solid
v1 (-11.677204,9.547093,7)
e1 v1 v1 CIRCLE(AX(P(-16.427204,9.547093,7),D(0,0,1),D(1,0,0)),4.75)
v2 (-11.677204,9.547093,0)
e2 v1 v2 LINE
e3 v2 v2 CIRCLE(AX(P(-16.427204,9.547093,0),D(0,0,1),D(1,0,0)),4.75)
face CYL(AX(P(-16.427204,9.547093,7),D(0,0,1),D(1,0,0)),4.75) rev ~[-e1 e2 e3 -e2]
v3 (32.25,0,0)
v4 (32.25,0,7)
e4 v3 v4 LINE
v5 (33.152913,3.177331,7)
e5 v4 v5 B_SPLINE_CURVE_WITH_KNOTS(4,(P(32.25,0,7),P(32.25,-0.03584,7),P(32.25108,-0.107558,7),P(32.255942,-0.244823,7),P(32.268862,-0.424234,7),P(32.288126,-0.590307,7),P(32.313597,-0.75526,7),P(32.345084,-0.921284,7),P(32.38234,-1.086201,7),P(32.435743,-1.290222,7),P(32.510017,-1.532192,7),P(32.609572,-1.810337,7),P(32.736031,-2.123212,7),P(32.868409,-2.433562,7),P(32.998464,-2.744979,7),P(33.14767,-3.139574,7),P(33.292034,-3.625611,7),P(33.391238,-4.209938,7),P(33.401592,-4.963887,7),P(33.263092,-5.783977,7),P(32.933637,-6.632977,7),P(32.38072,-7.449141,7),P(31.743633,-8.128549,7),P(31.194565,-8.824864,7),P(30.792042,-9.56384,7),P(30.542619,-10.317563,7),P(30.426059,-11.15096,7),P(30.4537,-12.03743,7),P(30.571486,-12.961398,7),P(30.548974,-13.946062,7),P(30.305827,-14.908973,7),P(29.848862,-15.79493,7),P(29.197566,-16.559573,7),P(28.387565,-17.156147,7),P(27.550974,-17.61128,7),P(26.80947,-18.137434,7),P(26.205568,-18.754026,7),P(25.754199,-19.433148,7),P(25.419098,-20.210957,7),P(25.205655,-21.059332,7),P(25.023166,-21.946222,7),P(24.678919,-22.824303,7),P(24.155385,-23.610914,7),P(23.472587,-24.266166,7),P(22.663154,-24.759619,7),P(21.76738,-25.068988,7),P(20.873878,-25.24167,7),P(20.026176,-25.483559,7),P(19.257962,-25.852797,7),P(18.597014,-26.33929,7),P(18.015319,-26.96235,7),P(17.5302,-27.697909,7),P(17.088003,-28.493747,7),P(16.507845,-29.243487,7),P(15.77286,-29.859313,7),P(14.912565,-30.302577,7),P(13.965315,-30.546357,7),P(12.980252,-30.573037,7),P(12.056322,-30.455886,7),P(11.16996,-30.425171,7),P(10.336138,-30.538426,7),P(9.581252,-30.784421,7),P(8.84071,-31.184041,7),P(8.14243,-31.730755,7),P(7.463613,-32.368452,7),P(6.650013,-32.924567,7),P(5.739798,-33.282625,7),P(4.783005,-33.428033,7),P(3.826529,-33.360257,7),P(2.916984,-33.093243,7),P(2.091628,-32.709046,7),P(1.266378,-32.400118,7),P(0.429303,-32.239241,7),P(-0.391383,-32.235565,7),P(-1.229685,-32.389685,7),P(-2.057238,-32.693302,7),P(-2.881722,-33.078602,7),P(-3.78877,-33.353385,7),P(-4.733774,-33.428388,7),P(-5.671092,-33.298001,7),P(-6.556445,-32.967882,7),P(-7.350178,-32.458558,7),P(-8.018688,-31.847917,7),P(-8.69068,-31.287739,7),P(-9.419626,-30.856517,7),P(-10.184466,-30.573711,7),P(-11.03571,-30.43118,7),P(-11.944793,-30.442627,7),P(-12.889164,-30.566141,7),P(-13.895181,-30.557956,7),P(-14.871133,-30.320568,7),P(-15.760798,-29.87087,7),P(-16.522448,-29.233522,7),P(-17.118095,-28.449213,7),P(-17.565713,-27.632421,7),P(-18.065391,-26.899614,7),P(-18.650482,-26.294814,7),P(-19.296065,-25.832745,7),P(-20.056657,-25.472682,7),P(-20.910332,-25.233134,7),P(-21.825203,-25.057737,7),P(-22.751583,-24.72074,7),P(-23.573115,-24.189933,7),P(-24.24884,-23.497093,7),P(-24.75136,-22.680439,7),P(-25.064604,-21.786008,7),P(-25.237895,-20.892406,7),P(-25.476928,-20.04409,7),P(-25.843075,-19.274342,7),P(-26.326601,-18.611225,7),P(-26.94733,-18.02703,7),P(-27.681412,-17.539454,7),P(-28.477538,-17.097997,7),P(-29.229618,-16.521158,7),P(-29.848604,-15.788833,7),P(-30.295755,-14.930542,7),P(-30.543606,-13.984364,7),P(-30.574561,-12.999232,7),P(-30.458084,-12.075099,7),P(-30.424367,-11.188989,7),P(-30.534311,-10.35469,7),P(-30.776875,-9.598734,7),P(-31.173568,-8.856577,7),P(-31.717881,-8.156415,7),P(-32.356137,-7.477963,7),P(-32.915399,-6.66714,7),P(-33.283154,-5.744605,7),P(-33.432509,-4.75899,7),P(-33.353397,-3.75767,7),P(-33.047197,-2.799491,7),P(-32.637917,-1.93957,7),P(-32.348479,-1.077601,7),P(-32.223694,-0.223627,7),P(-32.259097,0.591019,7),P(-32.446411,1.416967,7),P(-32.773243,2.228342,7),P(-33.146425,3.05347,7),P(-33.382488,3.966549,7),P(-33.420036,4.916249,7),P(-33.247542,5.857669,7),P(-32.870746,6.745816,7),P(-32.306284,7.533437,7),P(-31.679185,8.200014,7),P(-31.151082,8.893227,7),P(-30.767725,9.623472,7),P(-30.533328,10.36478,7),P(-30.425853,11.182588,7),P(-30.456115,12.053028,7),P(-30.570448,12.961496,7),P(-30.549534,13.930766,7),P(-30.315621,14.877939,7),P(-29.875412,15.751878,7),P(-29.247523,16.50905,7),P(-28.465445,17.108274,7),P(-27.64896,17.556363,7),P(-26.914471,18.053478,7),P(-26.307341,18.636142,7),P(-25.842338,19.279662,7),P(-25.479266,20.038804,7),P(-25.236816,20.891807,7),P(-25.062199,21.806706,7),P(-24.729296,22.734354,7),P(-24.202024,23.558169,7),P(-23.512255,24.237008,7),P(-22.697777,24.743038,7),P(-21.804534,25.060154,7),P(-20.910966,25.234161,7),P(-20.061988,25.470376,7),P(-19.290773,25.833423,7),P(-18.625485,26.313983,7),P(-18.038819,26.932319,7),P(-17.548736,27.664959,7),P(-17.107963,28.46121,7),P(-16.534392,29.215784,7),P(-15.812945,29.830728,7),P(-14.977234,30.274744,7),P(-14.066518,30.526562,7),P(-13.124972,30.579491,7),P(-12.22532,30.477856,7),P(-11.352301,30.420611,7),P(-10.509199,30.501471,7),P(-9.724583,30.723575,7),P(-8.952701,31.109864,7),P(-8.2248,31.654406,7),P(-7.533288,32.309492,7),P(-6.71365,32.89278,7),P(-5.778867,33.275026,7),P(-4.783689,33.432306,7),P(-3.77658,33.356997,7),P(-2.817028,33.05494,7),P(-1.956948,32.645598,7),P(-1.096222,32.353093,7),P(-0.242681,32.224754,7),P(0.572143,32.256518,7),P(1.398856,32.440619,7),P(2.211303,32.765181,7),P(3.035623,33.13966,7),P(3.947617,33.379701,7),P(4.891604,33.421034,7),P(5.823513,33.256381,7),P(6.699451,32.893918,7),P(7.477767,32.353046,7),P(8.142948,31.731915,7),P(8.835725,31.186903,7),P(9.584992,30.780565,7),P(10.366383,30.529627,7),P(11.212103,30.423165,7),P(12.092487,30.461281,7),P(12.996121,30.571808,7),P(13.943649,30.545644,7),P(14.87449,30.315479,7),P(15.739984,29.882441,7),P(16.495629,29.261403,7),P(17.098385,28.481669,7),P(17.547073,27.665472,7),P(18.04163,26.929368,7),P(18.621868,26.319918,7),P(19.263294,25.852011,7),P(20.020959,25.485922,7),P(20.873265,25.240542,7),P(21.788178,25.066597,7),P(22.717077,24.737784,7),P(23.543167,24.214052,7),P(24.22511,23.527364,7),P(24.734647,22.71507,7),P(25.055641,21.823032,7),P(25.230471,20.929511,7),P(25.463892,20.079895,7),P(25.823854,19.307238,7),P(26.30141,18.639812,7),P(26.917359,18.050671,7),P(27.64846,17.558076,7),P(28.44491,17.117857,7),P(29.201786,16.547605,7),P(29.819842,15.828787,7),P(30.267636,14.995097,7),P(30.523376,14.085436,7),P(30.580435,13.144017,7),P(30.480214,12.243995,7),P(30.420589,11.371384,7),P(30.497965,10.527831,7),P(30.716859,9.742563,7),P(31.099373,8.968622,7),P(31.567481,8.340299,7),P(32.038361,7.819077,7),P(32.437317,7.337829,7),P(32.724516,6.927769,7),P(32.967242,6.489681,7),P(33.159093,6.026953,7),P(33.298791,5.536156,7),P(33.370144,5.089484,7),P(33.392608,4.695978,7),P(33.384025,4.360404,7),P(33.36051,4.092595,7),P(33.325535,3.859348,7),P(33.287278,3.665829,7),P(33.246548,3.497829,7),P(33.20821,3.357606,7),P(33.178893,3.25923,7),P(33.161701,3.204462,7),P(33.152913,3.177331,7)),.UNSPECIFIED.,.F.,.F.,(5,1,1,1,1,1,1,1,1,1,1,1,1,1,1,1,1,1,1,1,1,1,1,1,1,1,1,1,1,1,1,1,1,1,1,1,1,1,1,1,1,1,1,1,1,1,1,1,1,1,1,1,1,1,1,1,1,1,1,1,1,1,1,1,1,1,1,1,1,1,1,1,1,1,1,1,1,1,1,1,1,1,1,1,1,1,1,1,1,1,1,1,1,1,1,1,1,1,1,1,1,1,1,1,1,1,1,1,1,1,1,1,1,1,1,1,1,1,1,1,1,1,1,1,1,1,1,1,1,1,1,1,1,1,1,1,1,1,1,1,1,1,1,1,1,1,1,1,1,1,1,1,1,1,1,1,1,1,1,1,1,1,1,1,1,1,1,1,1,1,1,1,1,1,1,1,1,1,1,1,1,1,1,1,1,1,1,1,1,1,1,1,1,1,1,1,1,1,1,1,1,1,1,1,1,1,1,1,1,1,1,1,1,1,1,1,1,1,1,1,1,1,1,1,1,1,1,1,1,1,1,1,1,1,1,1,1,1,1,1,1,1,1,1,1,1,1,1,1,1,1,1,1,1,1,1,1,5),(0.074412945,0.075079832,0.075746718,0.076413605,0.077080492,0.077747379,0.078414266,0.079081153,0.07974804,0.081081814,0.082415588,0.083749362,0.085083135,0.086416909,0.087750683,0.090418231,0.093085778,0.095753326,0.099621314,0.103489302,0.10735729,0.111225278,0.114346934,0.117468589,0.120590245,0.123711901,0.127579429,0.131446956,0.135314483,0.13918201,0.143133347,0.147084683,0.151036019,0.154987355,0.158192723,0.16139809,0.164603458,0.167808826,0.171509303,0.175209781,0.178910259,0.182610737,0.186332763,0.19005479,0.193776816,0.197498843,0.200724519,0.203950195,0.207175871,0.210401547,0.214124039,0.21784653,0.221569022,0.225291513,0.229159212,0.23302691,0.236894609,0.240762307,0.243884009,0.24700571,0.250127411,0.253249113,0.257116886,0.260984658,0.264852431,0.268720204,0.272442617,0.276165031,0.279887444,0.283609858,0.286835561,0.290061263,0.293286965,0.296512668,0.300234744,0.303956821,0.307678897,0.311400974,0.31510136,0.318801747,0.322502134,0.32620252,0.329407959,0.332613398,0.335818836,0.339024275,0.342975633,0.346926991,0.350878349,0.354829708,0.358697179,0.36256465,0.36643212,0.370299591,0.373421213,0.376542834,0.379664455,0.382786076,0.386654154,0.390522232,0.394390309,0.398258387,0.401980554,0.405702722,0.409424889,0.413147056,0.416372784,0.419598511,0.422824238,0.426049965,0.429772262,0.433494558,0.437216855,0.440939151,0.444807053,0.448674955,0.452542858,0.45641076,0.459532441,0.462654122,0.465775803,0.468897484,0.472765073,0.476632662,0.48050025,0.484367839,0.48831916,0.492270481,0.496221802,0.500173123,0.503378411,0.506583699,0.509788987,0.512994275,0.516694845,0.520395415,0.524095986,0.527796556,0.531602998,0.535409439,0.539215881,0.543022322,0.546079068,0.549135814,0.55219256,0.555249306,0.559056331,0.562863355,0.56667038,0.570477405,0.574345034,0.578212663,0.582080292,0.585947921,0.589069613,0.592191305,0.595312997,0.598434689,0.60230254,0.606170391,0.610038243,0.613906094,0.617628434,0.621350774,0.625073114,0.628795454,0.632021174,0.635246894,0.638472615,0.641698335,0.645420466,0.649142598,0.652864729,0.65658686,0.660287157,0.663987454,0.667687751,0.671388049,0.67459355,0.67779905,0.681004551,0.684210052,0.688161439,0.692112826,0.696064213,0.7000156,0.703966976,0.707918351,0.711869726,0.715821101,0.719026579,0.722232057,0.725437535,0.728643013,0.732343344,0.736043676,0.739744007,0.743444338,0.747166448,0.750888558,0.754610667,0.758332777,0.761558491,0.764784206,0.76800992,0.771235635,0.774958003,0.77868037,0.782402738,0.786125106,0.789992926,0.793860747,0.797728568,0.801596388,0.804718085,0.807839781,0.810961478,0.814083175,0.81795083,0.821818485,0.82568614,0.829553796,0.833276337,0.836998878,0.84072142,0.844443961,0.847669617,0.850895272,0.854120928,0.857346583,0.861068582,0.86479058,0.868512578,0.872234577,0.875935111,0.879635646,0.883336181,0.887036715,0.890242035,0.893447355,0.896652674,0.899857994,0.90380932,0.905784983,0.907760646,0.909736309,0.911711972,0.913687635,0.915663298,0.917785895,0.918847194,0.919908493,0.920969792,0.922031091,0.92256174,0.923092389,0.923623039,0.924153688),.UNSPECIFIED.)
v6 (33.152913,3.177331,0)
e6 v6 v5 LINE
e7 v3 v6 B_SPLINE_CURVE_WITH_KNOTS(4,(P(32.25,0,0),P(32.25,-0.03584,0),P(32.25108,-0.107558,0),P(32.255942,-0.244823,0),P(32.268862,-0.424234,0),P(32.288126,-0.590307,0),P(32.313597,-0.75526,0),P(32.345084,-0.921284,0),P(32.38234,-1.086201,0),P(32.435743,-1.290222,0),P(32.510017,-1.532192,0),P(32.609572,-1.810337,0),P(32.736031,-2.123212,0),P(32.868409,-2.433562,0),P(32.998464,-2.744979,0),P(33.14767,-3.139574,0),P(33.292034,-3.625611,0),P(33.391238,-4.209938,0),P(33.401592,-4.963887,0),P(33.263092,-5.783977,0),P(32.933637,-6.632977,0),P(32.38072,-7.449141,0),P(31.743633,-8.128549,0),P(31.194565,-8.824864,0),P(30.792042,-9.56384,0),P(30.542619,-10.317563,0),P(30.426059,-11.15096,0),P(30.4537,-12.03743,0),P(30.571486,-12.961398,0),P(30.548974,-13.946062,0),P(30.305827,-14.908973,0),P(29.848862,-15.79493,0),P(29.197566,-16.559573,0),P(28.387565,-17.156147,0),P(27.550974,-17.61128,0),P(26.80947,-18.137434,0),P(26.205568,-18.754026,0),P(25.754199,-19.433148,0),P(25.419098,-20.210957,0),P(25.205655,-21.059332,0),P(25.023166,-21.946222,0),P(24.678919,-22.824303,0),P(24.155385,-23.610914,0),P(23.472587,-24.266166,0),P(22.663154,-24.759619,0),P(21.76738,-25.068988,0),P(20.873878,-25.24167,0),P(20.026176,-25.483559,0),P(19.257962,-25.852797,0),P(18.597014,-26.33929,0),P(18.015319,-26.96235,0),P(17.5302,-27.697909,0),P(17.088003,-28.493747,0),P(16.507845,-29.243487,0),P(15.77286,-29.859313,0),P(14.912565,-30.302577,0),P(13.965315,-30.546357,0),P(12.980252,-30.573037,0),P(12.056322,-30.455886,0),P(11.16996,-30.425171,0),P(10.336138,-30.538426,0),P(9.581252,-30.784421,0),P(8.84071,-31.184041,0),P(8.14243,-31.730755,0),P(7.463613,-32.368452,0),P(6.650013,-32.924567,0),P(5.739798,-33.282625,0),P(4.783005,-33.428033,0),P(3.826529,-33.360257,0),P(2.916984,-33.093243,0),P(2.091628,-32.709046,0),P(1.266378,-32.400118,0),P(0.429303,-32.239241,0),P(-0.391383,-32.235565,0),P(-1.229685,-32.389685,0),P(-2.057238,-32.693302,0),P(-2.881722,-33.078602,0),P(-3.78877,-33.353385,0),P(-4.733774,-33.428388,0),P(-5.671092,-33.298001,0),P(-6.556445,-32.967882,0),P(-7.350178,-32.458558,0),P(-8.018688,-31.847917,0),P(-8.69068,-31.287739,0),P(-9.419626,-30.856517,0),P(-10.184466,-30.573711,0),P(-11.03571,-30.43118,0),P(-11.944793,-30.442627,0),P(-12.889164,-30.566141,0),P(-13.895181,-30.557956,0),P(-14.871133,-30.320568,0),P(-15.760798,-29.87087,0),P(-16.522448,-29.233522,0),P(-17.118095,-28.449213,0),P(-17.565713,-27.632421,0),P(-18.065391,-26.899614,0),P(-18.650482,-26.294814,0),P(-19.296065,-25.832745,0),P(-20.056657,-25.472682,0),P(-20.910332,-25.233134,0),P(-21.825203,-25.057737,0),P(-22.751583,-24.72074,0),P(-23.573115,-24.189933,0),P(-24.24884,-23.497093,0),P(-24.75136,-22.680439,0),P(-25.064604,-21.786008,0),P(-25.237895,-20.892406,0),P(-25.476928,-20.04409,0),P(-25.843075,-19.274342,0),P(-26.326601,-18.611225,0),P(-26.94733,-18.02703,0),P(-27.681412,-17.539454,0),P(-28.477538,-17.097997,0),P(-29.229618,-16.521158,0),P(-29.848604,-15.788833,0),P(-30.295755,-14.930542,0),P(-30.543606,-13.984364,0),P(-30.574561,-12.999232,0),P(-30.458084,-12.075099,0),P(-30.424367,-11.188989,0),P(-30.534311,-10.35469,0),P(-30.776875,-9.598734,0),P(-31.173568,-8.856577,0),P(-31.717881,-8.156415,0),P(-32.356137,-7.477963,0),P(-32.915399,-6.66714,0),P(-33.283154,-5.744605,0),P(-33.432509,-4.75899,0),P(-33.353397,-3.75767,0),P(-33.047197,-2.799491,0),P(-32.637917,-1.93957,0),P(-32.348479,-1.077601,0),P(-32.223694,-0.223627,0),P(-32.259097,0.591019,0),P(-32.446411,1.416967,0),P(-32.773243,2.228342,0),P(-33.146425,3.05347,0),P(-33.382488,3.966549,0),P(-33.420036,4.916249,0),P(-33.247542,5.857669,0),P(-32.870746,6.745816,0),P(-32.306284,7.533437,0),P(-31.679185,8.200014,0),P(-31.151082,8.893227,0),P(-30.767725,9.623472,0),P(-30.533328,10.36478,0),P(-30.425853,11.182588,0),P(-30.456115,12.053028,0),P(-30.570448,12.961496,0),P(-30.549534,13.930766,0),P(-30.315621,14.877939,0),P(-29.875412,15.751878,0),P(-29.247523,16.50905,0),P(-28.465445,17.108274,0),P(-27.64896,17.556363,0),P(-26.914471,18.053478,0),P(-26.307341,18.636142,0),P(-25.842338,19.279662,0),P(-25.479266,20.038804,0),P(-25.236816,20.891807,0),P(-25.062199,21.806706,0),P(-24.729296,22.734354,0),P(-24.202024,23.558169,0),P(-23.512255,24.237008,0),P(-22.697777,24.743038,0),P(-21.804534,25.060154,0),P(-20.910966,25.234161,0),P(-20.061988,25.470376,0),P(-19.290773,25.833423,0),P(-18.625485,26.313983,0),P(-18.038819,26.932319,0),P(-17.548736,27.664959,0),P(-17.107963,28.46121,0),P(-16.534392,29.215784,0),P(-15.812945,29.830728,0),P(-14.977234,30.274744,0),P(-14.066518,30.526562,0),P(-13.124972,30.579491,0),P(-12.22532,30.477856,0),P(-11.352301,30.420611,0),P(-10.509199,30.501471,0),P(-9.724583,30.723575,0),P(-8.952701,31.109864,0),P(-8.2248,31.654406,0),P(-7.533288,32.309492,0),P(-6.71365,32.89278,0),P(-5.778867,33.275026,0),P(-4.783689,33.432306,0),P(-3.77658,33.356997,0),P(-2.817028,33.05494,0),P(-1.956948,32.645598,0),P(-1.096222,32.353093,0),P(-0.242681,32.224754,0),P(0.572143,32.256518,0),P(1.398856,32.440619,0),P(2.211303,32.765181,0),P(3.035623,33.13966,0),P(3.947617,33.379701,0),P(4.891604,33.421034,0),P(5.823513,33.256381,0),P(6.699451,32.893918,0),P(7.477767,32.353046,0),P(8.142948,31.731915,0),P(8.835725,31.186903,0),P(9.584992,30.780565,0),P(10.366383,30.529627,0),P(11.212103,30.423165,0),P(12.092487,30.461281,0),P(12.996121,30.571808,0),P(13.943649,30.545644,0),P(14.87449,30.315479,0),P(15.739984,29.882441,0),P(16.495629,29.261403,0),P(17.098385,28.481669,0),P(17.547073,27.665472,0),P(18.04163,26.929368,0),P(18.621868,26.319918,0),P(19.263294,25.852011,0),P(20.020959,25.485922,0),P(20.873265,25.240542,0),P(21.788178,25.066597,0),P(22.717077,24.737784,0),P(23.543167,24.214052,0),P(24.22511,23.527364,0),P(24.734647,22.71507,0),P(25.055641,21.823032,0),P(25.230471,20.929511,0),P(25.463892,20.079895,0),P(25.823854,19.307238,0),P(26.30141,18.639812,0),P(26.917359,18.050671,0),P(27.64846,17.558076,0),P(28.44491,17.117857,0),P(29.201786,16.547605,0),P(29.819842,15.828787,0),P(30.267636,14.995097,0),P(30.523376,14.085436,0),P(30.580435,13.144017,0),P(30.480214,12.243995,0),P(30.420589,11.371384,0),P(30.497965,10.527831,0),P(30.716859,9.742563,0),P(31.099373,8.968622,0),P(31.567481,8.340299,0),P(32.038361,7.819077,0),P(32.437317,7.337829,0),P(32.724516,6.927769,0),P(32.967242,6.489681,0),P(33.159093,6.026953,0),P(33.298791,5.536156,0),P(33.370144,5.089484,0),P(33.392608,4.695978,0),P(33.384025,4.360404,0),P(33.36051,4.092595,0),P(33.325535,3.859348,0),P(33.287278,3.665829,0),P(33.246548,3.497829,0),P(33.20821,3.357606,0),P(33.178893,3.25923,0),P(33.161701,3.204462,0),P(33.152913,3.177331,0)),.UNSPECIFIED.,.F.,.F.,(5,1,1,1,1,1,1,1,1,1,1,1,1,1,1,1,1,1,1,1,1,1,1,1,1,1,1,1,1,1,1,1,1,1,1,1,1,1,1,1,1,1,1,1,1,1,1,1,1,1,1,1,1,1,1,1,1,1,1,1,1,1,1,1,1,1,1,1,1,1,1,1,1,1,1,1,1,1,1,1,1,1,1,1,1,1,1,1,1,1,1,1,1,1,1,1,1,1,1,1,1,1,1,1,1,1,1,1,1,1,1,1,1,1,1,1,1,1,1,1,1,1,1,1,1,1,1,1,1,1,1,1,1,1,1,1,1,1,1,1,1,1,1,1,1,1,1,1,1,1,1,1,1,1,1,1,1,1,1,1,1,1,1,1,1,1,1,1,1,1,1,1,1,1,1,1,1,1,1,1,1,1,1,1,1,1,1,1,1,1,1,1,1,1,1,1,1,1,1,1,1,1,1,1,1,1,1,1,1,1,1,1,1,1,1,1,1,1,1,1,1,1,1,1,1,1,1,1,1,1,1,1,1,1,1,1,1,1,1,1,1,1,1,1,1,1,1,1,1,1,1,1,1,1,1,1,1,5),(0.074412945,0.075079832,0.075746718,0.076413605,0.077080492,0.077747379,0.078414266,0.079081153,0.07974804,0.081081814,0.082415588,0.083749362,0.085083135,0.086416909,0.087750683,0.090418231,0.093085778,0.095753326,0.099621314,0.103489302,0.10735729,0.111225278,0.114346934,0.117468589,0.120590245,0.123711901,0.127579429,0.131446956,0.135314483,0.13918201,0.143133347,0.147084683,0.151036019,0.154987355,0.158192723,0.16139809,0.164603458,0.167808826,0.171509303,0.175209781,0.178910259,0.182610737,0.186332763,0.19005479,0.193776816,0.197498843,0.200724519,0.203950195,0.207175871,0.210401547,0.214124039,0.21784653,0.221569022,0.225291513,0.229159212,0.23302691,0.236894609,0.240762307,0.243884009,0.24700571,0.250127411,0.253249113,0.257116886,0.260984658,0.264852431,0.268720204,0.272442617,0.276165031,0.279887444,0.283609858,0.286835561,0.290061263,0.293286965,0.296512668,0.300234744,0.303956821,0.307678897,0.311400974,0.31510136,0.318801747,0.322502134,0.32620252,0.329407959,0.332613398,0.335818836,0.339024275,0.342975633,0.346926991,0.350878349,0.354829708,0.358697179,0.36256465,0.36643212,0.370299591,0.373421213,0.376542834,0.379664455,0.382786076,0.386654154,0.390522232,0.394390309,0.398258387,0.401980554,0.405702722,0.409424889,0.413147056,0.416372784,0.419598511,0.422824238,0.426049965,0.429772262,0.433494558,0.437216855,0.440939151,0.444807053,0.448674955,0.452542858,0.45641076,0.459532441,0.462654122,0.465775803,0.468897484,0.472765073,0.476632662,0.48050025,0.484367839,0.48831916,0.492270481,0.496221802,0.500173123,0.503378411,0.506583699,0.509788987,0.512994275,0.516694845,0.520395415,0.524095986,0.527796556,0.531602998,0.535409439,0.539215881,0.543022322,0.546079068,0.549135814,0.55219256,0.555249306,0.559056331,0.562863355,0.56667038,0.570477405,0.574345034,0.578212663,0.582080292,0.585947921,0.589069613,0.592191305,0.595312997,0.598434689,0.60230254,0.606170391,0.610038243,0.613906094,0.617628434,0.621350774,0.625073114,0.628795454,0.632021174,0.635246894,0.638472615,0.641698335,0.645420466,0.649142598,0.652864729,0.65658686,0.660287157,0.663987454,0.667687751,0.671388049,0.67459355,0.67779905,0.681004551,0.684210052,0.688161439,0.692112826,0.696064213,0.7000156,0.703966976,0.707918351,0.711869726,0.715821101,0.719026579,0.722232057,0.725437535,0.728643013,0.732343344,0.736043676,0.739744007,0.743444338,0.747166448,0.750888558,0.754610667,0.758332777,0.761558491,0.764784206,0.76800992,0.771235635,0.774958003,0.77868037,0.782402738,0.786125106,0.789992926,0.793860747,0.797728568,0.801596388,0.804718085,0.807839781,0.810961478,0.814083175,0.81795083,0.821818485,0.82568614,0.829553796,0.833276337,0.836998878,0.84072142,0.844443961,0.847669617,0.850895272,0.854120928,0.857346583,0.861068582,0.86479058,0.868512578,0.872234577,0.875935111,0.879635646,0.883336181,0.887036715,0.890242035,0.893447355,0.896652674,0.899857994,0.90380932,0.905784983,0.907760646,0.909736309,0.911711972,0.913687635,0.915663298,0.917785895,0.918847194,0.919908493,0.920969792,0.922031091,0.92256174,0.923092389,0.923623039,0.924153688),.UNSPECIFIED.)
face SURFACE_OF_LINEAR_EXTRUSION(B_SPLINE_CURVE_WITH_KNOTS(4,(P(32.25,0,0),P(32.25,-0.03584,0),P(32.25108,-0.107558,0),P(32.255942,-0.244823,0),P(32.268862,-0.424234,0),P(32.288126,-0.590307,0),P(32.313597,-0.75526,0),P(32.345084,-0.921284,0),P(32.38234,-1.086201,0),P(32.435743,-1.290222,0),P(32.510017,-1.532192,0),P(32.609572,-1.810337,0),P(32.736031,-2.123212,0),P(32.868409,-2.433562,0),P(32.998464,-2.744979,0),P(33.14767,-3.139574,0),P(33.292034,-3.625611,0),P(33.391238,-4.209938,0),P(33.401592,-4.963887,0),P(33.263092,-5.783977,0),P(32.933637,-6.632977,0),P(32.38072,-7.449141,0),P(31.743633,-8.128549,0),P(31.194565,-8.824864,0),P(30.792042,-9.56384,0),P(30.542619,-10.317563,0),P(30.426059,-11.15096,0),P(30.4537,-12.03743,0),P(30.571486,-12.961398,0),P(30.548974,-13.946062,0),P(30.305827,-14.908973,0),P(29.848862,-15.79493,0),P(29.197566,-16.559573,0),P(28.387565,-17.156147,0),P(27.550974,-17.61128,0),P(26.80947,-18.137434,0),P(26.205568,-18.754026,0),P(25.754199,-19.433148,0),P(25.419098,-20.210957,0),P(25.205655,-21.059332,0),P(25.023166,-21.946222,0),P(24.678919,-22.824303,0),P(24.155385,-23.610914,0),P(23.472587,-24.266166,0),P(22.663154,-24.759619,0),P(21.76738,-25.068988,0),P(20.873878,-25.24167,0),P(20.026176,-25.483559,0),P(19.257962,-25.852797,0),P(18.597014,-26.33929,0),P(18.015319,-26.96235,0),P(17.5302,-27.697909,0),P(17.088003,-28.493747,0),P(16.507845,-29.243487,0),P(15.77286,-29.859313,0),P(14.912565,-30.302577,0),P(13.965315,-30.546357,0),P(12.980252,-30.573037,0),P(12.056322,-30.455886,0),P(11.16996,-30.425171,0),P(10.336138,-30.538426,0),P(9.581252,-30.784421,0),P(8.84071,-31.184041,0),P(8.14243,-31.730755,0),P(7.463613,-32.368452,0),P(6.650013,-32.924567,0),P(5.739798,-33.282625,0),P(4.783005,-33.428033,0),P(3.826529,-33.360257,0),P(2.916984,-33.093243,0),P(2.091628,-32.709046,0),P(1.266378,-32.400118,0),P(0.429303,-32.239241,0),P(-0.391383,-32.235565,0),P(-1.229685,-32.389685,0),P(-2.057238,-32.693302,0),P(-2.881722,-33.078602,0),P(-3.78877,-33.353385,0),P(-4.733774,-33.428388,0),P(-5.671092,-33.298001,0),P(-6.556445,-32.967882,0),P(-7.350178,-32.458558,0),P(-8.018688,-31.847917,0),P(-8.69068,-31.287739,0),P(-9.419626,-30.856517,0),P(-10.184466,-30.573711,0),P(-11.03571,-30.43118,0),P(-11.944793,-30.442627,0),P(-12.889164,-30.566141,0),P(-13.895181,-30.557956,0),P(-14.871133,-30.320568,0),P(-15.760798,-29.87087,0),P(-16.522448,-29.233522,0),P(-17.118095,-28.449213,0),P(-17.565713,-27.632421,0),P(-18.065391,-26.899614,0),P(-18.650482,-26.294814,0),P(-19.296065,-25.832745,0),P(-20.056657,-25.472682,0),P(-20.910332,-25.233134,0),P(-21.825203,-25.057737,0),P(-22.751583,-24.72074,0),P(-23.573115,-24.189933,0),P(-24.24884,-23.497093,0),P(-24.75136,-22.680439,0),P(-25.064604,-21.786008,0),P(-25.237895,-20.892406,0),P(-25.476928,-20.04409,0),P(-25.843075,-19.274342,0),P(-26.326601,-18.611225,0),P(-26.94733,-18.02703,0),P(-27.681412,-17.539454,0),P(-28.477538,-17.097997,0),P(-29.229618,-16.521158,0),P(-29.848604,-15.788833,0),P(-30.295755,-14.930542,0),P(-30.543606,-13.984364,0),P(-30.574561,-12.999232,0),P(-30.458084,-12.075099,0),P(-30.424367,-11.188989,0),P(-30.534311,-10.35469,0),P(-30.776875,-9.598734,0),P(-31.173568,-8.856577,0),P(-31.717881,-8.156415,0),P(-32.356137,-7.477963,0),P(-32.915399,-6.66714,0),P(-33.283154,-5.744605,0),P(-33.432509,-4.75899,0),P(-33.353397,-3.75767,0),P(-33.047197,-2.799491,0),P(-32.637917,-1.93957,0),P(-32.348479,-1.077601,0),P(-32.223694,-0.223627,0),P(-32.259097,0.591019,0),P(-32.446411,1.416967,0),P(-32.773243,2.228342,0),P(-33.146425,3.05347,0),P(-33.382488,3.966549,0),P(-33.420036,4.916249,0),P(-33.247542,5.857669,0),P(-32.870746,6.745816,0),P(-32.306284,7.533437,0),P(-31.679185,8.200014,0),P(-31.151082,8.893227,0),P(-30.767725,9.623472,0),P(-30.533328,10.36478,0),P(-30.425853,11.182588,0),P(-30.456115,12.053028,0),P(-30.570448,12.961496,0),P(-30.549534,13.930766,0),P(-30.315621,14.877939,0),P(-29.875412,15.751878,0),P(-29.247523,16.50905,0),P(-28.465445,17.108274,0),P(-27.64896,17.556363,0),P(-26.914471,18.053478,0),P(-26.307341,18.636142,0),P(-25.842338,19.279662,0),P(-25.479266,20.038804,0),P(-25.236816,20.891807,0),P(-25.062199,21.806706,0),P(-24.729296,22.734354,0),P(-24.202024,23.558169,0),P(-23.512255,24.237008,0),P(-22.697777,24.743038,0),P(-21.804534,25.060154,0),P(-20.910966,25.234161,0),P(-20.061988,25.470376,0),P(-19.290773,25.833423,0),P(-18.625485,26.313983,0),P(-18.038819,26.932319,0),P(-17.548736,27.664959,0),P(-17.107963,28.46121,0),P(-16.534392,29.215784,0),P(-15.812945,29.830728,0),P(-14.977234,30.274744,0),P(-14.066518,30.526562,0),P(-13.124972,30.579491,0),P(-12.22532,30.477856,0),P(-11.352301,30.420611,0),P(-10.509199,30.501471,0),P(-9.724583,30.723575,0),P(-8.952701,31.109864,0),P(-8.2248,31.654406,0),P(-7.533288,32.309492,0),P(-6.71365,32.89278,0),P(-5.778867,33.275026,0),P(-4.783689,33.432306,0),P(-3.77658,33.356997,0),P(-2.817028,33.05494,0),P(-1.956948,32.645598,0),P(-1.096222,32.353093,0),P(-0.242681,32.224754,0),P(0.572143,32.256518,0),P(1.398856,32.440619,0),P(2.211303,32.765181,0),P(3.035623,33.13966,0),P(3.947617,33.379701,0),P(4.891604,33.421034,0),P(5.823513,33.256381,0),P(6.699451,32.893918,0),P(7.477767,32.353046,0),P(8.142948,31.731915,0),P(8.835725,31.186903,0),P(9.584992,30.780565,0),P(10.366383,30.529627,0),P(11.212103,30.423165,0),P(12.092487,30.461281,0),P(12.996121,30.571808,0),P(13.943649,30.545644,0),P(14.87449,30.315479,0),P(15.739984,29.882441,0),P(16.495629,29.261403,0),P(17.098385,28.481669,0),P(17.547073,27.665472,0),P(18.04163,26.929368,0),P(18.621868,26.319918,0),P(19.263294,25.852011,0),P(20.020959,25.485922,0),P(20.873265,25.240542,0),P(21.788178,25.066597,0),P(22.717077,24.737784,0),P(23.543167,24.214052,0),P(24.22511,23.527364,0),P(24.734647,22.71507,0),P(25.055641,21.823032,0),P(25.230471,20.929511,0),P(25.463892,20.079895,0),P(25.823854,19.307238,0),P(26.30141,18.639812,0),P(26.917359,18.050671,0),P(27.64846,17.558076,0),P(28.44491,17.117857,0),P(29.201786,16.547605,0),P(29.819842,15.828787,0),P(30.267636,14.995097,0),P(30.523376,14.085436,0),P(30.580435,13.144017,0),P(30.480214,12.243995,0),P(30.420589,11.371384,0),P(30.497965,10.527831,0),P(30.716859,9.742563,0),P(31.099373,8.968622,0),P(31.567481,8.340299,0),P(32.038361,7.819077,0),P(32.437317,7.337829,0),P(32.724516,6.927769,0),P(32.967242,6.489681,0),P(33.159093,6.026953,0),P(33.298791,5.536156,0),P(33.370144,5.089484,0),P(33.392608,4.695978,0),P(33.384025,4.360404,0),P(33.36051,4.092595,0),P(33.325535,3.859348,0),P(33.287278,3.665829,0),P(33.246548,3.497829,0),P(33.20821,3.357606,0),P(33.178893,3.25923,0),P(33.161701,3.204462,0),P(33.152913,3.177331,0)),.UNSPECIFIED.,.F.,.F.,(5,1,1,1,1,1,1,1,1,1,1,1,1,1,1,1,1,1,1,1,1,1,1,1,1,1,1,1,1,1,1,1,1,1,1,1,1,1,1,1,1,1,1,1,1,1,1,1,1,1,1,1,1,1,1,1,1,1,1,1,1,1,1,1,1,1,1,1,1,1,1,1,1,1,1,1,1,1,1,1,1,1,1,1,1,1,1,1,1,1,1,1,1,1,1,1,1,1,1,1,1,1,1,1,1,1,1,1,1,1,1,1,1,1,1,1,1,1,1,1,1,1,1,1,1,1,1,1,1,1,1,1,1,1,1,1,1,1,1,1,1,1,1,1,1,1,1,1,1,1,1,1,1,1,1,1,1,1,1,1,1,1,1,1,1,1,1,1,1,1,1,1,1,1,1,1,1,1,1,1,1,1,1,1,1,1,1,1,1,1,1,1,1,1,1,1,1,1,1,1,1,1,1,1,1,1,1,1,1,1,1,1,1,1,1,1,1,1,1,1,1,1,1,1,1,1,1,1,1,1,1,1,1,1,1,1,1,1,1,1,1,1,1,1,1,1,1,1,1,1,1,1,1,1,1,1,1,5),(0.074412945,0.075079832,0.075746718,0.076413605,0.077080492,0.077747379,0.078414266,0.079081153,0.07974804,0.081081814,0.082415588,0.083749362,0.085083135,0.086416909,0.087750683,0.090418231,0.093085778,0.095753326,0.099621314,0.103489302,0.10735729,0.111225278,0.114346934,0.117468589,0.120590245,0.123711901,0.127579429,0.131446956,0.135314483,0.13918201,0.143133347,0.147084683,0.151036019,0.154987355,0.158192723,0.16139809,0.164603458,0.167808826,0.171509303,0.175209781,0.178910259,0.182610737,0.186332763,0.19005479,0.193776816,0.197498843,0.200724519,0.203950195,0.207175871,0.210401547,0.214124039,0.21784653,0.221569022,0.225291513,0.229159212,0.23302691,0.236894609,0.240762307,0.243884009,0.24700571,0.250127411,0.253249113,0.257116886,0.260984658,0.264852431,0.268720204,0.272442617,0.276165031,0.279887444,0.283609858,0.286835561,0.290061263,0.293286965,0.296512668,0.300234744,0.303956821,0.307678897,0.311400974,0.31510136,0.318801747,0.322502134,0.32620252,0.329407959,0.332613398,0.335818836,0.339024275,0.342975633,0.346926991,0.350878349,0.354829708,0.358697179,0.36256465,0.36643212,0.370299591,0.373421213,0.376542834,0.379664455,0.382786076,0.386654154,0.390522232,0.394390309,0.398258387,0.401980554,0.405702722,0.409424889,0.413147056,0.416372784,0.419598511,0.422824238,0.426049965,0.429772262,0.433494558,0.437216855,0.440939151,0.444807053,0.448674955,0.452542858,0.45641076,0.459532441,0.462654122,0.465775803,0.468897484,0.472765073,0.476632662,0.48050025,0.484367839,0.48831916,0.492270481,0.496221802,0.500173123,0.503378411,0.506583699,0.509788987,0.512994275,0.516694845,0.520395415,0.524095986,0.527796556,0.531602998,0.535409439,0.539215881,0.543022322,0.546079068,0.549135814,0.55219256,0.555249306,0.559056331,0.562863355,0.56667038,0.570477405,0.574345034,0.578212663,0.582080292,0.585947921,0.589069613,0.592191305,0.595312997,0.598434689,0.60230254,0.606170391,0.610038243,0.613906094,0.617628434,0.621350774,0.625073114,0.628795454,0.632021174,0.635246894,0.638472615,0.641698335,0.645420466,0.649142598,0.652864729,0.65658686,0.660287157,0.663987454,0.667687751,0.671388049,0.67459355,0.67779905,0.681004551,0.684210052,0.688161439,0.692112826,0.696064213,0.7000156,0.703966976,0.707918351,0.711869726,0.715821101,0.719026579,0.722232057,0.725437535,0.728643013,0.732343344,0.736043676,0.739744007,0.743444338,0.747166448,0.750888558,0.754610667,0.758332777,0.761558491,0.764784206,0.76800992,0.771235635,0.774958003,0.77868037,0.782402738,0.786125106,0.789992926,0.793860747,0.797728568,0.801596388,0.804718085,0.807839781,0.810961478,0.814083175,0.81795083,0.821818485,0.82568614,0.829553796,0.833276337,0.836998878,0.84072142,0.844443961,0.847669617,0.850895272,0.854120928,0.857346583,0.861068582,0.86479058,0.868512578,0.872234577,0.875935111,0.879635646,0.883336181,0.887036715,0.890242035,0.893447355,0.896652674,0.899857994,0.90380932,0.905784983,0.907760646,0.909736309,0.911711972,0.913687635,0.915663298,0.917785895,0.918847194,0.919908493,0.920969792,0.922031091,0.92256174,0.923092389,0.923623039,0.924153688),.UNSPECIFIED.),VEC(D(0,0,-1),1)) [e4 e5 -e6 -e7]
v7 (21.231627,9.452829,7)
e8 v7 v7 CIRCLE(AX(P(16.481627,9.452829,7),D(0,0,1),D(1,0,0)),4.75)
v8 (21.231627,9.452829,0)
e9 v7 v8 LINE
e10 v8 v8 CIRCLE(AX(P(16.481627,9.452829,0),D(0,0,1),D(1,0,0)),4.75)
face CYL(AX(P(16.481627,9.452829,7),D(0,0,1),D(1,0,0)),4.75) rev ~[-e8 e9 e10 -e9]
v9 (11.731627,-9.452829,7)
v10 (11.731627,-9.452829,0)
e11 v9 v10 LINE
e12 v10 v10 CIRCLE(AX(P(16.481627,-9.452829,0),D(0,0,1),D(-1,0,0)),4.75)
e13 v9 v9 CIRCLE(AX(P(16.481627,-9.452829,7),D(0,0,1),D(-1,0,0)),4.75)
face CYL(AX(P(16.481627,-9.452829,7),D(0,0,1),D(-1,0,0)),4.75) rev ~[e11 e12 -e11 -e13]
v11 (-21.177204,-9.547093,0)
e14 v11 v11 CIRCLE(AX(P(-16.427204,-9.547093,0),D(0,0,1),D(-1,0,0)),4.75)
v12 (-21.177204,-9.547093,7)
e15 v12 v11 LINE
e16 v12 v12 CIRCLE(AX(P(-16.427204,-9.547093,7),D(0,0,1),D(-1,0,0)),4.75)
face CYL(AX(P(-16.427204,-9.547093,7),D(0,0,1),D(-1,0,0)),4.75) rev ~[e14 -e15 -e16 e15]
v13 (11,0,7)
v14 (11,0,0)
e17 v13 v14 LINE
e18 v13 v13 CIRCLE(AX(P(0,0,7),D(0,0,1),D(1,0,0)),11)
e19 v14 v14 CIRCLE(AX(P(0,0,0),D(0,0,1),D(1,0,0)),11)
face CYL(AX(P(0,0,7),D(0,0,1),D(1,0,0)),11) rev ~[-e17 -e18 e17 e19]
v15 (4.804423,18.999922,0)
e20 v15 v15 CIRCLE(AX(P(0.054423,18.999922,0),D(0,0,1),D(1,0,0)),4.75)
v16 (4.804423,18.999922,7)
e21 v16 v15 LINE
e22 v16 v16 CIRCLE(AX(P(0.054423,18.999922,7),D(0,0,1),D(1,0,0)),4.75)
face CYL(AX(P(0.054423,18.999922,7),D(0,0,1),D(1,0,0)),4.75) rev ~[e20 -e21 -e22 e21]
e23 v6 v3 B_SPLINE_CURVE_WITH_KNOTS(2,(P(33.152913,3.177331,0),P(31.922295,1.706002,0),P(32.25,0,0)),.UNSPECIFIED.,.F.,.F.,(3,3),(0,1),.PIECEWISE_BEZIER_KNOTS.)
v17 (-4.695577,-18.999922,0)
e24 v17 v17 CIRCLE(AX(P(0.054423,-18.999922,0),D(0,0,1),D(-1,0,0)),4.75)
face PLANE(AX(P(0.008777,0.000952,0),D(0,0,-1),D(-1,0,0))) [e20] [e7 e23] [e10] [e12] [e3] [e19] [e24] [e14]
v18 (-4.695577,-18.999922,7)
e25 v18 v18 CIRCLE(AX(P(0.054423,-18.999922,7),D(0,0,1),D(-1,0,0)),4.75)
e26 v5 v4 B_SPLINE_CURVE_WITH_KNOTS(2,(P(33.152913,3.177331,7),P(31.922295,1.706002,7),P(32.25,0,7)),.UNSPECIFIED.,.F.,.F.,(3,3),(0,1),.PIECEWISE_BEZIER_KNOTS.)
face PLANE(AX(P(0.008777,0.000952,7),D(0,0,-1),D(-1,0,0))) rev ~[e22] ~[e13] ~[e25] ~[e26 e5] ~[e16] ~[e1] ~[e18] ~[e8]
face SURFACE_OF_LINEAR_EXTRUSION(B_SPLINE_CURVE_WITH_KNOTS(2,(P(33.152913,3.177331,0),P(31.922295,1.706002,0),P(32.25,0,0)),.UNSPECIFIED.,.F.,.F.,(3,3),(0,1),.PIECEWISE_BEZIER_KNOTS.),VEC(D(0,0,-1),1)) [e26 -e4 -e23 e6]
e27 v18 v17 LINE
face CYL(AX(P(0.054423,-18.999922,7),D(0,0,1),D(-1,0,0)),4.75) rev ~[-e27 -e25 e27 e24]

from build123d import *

# Parameters (mm, degrees)
BOSS_EXTRUDE1_DEPTH = 7
SKETCH2_R           = 11
SKETCH2_R_2         = 4.75
SKETCH2_R_3         = 4.749999995
SKETCH2_R_4         = 4.750000007
SKETCH2_R_5         = 4.750000003
CUT_EXTRUDE3_DEPTH  = 48.733141781


with BuildPart() as part:
    # Sketch1 → Boss-Extrude1 (new body)
    with BuildSketch(Plane.XY):
        with BuildLine():
            add(Edge.make_bspline(
                [(32.25, 1e-09), (32.25, -0.03584026), (32.251080395, -0.107557917), (32.255942168, -0.244822693), (32.268861596, -0.42423358), (32.288126492, -0.590307491), (32.313597344, -0.75526022), (32.345083769, -0.921284338), (32.382340363, -1.086200834), (32.435743217, -1.290221504), (32.510017409, -1.532192074), (32.609572454, -1.810337489), (32.736031435, -2.123211782), (32.868409264, -2.433561535), (32.998463612, -2.744978513), (33.147670028, -3.139574299), (33.29203351, -3.625611027), (33.391238098, -4.209938144), (33.40159236, -4.963887179), (33.263092101, -5.783976593), (32.933637021, -6.632976673), (32.380720256, -7.44914111), (31.743633074, -8.128548572), (31.194565339, -8.824864423), (30.792041933, -9.563839804), (30.542619062, -10.317563139), (30.426059081, -11.150959974), (30.453700427, -12.037430256), (30.571486472, -12.961397721), (30.548973562, -13.946062453), (30.305827306, -14.908972914), (29.8488621, -15.794930036), (29.197566297, -16.55957303), (28.387565065, -17.156146763), (27.550974388, -17.611279668), (26.8094699, -18.137433767), (26.205567855, -18.754025976), (25.754198906, -19.433148369), (25.419097837, -20.210957063), (25.205654831, -21.059332432), (25.023165763, -21.946222304), (24.678918541, -22.824303369), (24.155385031, -23.610913554), (23.47258695, -24.266165938), (22.663154471, -24.7596191), (21.767380441, -25.068988477), (20.873877723, -25.241670484), (20.026176208, -25.483558737), (19.257961529, -25.852796939), (18.597014435, -26.339289543), (18.015319336, -26.96235034), (17.530200194, -27.697909274), (17.088002691, -28.493747234), (16.507844893, -29.243486782), (15.772859754, -29.859313296), (14.912564693, -30.302576631), (13.965315475, -30.54635699), (12.98025215, -30.573037387), (12.056322353, -30.455886167), (11.169960105, -30.425170838), (10.336137669, -30.538425829), (9.581252254, -30.784420953), (8.840709776, -31.184040969), (8.142429819, -31.730755162), (7.463613048, -32.368451781), (6.650013052, -32.924567132), (5.739798426, -33.282624756), (4.783005447, -33.428033479), (3.826528798, -33.360257301), (2.916983602, -33.093242599), (2.091628303, -32.709045741), (1.26637753, -32.40011834), (0.429302587, -32.239240586), (-0.391382596, -32.235565239), (-1.22968536, -32.389684614), (-2.0572378, -32.693302158), (-2.881721983, -33.078601543), (-3.788770237, -33.353385358), (-4.733774423, -33.42838768), (-5.671092486, -33.298000902), (-6.556445254, -32.967881994), (-7.350178183, -32.458558488), (-8.018687609, -31.847917072), (-8.690679722, -31.287739131), (-9.419625653, -30.856516656), (-10.184465575, -30.573711459), (-11.03571026, -30.431180216), (-11.944792517, -30.442626541), (-12.889163565, -30.566141215), (-13.895181285, -30.557956001), (-14.87113339, -30.320567678), (-15.760797756, -29.870869827), (-16.522447913, -29.233522337), (-17.118094619, -28.449212827), (-17.565712962, -27.632421294), (-18.065390764, -26.899614077), (-18.650481966, -26.294814018), (-19.296064795, -25.832745125), (-20.056657392, -25.472681848), (-20.910331773, -25.233134263), (-21.825203321, -25.057736755), (-22.751582791, -24.720739593), (-23.573115298, -24.189933119), (-24.248840304, -23.497093196), (-24.751359701, -22.680439304), (-25.064603709, -21.786008149), (-25.237894516, -20.892406484), (-25.476928432, -20.044090314), (-25.843074795, -19.274341716), (-26.326600825, -18.611224875), (-26.947330385, -18.027030012), (-27.681412221, -17.539453985), (-28.477538309, -17.097997439), (-29.229618148, -16.521157931), (-29.848604233, -15.788832927), (-30.295754573, -14.930542362), (-30.543605502, -13.984363508), (-30.57456144, -12.999231857), (-30.458084156, -12.075098728), (-30.424367357, -11.188988864), (-30.534311318, -10.354690195), (-30.776875242, -9.598734005), (-31.173567909, -8.856576796), (-31.717880897, -8.156414765), (-32.356136698, -7.477963354), (-32.915398504, -6.667140338), (-33.283154456, -5.744604994), (-33.432509226, -4.758990118), (-33.353397152, -3.75766975), (-33.047197129, -2.799491173), (-32.637917259, -1.939569952), (-32.348479254, -1.077600722), (-32.223693767, -0.223626791), (-32.259097298, 0.591019042), (-32.446410543, 1.416966955), (-32.773243466, 2.228342112), (-33.146425069, 3.05346988), (-33.382488072, 3.966548555), (-33.420035871, 4.916249167), (-33.247541542, 5.857668601), (-32.870746257, 6.745815511), (-32.306284436, 7.533437088), (-31.679184935, 8.200013939), (-31.151082078, 8.893226913), (-30.767724626, 9.62347225), (-30.533327538, 10.364780464), (-30.425852641, 11.182587503), (-30.456115217, 12.053028073), (-30.57044759, 12.961496123), (-30.549533517, 13.930765879), (-30.315621222, 14.877939042), (-29.87541213, 15.751878255), (-29.247523253, 16.509050406), (-28.46544523, 17.108273666), (-27.648960196, 17.55636261), (-26.914470828, 18.053478276), (-26.307340893, 18.636141864), (-25.842338245, 19.279662272), (-25.479266059, 20.038804033), (-25.236815929, 20.891806711), (-25.062198676, 21.806705948), (-24.729295697, 22.734354454), (-24.20202431, 23.558169194), (-23.512255201, 24.237008277), (-22.697777389, 24.74303772), (-21.804533826, 25.060153895), (-20.910965853, 25.234161069), (-20.061987548, 25.470376036), (-19.290772545, 25.833422728), (-18.625484989, 26.313982965), (-18.0388195, 26.93231861), (-17.548735535, 27.664959335), (-17.10796282, 28.461209915), (-16.534392163, 29.215784218), (-15.812944863, 29.830728484), (-14.977234069, 30.274744494), (-14.066517637, 30.526562287), (-13.124972172, 30.579491021), (-12.225320095, 30.477855894), (-11.352300693, 30.420611213), (-10.509198984, 30.5014714), (-9.724582773, 30.723575454), (-8.952700657, 31.109863531), (-8.224799511, 31.654406363), (-7.53328827, 32.309492131), (-6.713650395, 32.892779932), (-5.778866527, 33.275025561), (-4.783689107, 33.432306412), (-3.776579779, 33.356996625), (-2.817028253, 33.054939744), (-1.956947609, 32.645597809), (-1.096221684, 32.353093368), (-0.24268098, 32.224753798), (0.572143478, 32.256517558), (1.398855976, 32.440618518), (2.211303462, 32.765181102), (3.035622993, 33.139660067), (3.947616622, 33.379700709), (4.891604445, 33.421034296), (5.823512573, 33.256381407), (6.69945148, 32.893917966), (7.477767129, 32.353045748), (8.142948467, 31.731914513), (8.835724848, 31.186903416), (9.584991508, 30.780564963), (10.366383266, 30.529626848), (11.212102964, 30.423164574), (12.092486758, 30.461281464), (12.99612118, 30.571807634), (13.943649273, 30.545643795), (14.874489725, 30.315479217), (15.739983569, 29.882441225), (16.495629409, 29.261403498), (17.098384886, 28.481668508), (17.547072979, 27.665471693), (18.041630009, 26.929367925), (18.621868133, 26.319917893), (19.263294063, 25.852011417), (20.020958736, 25.485922122), (20.873264512, 25.240541889), (21.788177848, 25.066597447), (22.717076691, 24.737783832), (23.543166874, 24.214052248), (24.225109953, 23.527364126), (24.734646511, 22.715070024), (25.0556406, 21.823032223), (25.230470514, 20.929510983), (25.463891902, 20.079894914), (25.823854301, 19.307238044), (26.301409548, 18.639811686), (26.917359159, 18.050670837), (27.648460376, 17.558076142), (28.444909927, 17.117856696), (29.201785946, 16.547605137), (29.81984157, 15.82878727), (30.267636372, 14.995097053), (30.523375754, 14.085436493), (30.580435366, 13.144017152), (30.480213655, 12.243995051), (30.420588583, 11.371383627), (30.497965021, 10.527830776), (30.716858994, 9.742562755), (31.099373189, 8.968622161), (31.567480712, 8.340299437), (32.038361194, 7.819076523), (32.437316878, 7.337829001), (32.724515784, 6.927769227), (32.967242303, 6.489680677), (33.159093214, 6.026952619), (33.298790924, 5.536156351), (33.370144453, 5.089484367), (33.392607682, 4.695978095), (33.384025491, 4.360403743), (33.360509543, 4.092595223), (33.325535309, 3.859348386), (33.287278414, 3.665828734), (33.246547966, 3.497829168), (33.208210173, 3.357605542), (33.178892757, 3.259230135), (33.161701284, 3.204461577), (33.1529127, 3.177331049)],
                knots=[0.074412945, 0.074412945, 0.074412945, 0.074412945, 0.074412945, 0.075079832, 0.075746718, 0.076413605, 0.077080492, 0.077747379, 0.078414266, 0.079081153, 0.07974804, 0.081081814, 0.082415588, 0.083749362, 0.085083135, 0.086416909, 0.087750683, 0.090418231, 0.093085778, 0.095753326, 0.099621314, 0.103489302, 0.10735729, 0.111225278, 0.114346934, 0.117468589, 0.120590245, 0.123711901, 0.127579429, 0.131446956, 0.135314483, 0.13918201, 0.143133347, 0.147084683, 0.151036019, 0.154987355, 0.158192723, 0.16139809, 0.164603458, 0.167808826, 0.171509303, 0.175209781, 0.178910259, 0.182610737, 0.186332763, 0.19005479, 0.193776816, 0.197498843, 0.200724519, 0.203950195, 0.207175871, 0.210401547, 0.214124039, 0.21784653, 0.221569022, 0.225291513, 0.229159212, 0.23302691, 0.236894609, 0.240762307, 0.243884009, 0.24700571, 0.250127411, 0.253249113, 0.257116886, 0.260984658, 0.264852431, 0.268720204, 0.272442617, 0.276165031, 0.279887444, 0.283609858, 0.286835561, 0.290061263, 0.293286965, 0.296512668, 0.300234744, 0.303956821, 0.307678897, 0.311400974, 0.31510136, 0.318801747, 0.322502134, 0.32620252, 0.329407959, 0.332613398, 0.335818836, 0.339024275, 0.342975633, 0.346926991, 0.350878349, 0.354829708, 0.358697179, 0.36256465, 0.36643212, 0.370299591, 0.373421213, 0.376542834, 0.379664455, 0.382786076, 0.386654154, 0.390522232, 0.394390309, 0.398258387, 0.401980554, 0.405702722, 0.409424889, 0.413147056, 0.416372784, 0.419598511, 0.422824238, 0.426049965, 0.429772262, 0.433494558, 0.437216855, 0.440939151, 0.444807053, 0.448674955, 0.452542858, 0.45641076, 0.459532441, 0.462654122, 0.465775803, 0.468897484, 0.472765073, 0.476632662, 0.48050025, 0.484367839, 0.48831916, 0.492270481, 0.496221802, 0.500173123, 0.503378411, 0.506583699, 0.509788987, 0.512994275, 0.516694845, 0.520395415, 0.524095986, 0.527796556, 0.531602998, 0.535409439, 0.539215881, 0.543022322, 0.546079068, 0.549135814, 0.55219256, 0.555249306, 0.559056331, 0.562863355, 0.56667038, 0.570477405, 0.574345034, 0.578212663, 0.582080292, 0.585947921, 0.589069613, 0.592191305, 0.595312997, 0.598434689, 0.60230254, 0.606170391, 0.610038243, 0.613906094, 0.617628434, 0.621350774, 0.625073114, 0.628795454, 0.632021174, 0.635246894, 0.638472615, 0.641698335, 0.645420466, 0.649142598, 0.652864729, 0.65658686, 0.660287157, 0.663987454, 0.667687751, 0.671388049, 0.67459355, 0.67779905, 0.681004551, 0.684210052, 0.688161439, 0.692112826, 0.696064213, 0.7000156, 0.703966976, 0.707918351, 0.711869726, 0.715821101, 0.719026579, 0.722232057, 0.725437535, 0.728643013, 0.732343344, 0.736043676, 0.739744007, 0.743444338, 0.747166448, 0.750888558, 0.754610667, 0.758332777, 0.761558491, 0.764784206, 0.76800992, 0.771235635, 0.774958003, 0.77868037, 0.782402738, 0.786125106, 0.789992926, 0.793860747, 0.797728568, 0.801596388, 0.804718085, 0.807839781, 0.810961478, 0.814083175, 0.81795083, 0.821818485, 0.82568614, 0.829553796, 0.833276337, 0.836998878, 0.84072142, 0.844443961, 0.847669617, 0.850895272, 0.854120928, 0.857346583, 0.861068582, 0.86479058, 0.868512578, 0.872234577, 0.875935111, 0.879635646, 0.883336181, 0.887036715, 0.890242035, 0.893447355, 0.896652674, 0.899857994, 0.90380932, 0.905784983, 0.907760646, 0.909736309, 0.911711972, 0.913687635, 0.915663298, 0.917785895, 0.918847194, 0.919908493, 0.920969792, 0.922031091, 0.92256174, 0.923092389, 0.923623039, 0.924153688, 0.924153688, 0.924153688, 0.924153688, 0.924153688], degree=4))
            add(Edge.make_bspline(
                [(33.1529127, 3.177331049), (31.922295464, 1.706002382), (32.25, 1e-09)],
                knots=[0, 0, 0, 1, 1, 1], degree=2))
        make_face()
    extrude(amount=BOSS_EXTRUDE1_DEPTH)

    # Sketch2 → Cut-Extrude3 (cut, through all)
    with BuildSketch(Plane.XY.offset(7)):
        Circle(SKETCH2_R)
        with Locations((0.054422972, 18.999922056)):
            Circle(SKETCH2_R_2)
        with Locations((16.481626656, 9.452829352)):
            Circle(SKETCH2_R_2)
        with Locations((-16.427203685, 9.547092704)):
            Circle(SKETCH2_R_2)
        with Locations(Location((16.481626656, -9.452829352, 0), (0, 0, 180))):
            Circle(SKETCH2_R_3)
        with Locations(Location((0.054422972, -18.999922056, 0), (0, 0, 180))):
            Circle(SKETCH2_R_4)
        with Locations(Location((-16.427203685, -9.547092704, 0), (0, 0, 180))):
            Circle(SKETCH2_R_5)
    extrude(amount=-CUT_EXTRUDE3_DEPTH, mode=Mode.SUBTRACT)


solid = part.part
